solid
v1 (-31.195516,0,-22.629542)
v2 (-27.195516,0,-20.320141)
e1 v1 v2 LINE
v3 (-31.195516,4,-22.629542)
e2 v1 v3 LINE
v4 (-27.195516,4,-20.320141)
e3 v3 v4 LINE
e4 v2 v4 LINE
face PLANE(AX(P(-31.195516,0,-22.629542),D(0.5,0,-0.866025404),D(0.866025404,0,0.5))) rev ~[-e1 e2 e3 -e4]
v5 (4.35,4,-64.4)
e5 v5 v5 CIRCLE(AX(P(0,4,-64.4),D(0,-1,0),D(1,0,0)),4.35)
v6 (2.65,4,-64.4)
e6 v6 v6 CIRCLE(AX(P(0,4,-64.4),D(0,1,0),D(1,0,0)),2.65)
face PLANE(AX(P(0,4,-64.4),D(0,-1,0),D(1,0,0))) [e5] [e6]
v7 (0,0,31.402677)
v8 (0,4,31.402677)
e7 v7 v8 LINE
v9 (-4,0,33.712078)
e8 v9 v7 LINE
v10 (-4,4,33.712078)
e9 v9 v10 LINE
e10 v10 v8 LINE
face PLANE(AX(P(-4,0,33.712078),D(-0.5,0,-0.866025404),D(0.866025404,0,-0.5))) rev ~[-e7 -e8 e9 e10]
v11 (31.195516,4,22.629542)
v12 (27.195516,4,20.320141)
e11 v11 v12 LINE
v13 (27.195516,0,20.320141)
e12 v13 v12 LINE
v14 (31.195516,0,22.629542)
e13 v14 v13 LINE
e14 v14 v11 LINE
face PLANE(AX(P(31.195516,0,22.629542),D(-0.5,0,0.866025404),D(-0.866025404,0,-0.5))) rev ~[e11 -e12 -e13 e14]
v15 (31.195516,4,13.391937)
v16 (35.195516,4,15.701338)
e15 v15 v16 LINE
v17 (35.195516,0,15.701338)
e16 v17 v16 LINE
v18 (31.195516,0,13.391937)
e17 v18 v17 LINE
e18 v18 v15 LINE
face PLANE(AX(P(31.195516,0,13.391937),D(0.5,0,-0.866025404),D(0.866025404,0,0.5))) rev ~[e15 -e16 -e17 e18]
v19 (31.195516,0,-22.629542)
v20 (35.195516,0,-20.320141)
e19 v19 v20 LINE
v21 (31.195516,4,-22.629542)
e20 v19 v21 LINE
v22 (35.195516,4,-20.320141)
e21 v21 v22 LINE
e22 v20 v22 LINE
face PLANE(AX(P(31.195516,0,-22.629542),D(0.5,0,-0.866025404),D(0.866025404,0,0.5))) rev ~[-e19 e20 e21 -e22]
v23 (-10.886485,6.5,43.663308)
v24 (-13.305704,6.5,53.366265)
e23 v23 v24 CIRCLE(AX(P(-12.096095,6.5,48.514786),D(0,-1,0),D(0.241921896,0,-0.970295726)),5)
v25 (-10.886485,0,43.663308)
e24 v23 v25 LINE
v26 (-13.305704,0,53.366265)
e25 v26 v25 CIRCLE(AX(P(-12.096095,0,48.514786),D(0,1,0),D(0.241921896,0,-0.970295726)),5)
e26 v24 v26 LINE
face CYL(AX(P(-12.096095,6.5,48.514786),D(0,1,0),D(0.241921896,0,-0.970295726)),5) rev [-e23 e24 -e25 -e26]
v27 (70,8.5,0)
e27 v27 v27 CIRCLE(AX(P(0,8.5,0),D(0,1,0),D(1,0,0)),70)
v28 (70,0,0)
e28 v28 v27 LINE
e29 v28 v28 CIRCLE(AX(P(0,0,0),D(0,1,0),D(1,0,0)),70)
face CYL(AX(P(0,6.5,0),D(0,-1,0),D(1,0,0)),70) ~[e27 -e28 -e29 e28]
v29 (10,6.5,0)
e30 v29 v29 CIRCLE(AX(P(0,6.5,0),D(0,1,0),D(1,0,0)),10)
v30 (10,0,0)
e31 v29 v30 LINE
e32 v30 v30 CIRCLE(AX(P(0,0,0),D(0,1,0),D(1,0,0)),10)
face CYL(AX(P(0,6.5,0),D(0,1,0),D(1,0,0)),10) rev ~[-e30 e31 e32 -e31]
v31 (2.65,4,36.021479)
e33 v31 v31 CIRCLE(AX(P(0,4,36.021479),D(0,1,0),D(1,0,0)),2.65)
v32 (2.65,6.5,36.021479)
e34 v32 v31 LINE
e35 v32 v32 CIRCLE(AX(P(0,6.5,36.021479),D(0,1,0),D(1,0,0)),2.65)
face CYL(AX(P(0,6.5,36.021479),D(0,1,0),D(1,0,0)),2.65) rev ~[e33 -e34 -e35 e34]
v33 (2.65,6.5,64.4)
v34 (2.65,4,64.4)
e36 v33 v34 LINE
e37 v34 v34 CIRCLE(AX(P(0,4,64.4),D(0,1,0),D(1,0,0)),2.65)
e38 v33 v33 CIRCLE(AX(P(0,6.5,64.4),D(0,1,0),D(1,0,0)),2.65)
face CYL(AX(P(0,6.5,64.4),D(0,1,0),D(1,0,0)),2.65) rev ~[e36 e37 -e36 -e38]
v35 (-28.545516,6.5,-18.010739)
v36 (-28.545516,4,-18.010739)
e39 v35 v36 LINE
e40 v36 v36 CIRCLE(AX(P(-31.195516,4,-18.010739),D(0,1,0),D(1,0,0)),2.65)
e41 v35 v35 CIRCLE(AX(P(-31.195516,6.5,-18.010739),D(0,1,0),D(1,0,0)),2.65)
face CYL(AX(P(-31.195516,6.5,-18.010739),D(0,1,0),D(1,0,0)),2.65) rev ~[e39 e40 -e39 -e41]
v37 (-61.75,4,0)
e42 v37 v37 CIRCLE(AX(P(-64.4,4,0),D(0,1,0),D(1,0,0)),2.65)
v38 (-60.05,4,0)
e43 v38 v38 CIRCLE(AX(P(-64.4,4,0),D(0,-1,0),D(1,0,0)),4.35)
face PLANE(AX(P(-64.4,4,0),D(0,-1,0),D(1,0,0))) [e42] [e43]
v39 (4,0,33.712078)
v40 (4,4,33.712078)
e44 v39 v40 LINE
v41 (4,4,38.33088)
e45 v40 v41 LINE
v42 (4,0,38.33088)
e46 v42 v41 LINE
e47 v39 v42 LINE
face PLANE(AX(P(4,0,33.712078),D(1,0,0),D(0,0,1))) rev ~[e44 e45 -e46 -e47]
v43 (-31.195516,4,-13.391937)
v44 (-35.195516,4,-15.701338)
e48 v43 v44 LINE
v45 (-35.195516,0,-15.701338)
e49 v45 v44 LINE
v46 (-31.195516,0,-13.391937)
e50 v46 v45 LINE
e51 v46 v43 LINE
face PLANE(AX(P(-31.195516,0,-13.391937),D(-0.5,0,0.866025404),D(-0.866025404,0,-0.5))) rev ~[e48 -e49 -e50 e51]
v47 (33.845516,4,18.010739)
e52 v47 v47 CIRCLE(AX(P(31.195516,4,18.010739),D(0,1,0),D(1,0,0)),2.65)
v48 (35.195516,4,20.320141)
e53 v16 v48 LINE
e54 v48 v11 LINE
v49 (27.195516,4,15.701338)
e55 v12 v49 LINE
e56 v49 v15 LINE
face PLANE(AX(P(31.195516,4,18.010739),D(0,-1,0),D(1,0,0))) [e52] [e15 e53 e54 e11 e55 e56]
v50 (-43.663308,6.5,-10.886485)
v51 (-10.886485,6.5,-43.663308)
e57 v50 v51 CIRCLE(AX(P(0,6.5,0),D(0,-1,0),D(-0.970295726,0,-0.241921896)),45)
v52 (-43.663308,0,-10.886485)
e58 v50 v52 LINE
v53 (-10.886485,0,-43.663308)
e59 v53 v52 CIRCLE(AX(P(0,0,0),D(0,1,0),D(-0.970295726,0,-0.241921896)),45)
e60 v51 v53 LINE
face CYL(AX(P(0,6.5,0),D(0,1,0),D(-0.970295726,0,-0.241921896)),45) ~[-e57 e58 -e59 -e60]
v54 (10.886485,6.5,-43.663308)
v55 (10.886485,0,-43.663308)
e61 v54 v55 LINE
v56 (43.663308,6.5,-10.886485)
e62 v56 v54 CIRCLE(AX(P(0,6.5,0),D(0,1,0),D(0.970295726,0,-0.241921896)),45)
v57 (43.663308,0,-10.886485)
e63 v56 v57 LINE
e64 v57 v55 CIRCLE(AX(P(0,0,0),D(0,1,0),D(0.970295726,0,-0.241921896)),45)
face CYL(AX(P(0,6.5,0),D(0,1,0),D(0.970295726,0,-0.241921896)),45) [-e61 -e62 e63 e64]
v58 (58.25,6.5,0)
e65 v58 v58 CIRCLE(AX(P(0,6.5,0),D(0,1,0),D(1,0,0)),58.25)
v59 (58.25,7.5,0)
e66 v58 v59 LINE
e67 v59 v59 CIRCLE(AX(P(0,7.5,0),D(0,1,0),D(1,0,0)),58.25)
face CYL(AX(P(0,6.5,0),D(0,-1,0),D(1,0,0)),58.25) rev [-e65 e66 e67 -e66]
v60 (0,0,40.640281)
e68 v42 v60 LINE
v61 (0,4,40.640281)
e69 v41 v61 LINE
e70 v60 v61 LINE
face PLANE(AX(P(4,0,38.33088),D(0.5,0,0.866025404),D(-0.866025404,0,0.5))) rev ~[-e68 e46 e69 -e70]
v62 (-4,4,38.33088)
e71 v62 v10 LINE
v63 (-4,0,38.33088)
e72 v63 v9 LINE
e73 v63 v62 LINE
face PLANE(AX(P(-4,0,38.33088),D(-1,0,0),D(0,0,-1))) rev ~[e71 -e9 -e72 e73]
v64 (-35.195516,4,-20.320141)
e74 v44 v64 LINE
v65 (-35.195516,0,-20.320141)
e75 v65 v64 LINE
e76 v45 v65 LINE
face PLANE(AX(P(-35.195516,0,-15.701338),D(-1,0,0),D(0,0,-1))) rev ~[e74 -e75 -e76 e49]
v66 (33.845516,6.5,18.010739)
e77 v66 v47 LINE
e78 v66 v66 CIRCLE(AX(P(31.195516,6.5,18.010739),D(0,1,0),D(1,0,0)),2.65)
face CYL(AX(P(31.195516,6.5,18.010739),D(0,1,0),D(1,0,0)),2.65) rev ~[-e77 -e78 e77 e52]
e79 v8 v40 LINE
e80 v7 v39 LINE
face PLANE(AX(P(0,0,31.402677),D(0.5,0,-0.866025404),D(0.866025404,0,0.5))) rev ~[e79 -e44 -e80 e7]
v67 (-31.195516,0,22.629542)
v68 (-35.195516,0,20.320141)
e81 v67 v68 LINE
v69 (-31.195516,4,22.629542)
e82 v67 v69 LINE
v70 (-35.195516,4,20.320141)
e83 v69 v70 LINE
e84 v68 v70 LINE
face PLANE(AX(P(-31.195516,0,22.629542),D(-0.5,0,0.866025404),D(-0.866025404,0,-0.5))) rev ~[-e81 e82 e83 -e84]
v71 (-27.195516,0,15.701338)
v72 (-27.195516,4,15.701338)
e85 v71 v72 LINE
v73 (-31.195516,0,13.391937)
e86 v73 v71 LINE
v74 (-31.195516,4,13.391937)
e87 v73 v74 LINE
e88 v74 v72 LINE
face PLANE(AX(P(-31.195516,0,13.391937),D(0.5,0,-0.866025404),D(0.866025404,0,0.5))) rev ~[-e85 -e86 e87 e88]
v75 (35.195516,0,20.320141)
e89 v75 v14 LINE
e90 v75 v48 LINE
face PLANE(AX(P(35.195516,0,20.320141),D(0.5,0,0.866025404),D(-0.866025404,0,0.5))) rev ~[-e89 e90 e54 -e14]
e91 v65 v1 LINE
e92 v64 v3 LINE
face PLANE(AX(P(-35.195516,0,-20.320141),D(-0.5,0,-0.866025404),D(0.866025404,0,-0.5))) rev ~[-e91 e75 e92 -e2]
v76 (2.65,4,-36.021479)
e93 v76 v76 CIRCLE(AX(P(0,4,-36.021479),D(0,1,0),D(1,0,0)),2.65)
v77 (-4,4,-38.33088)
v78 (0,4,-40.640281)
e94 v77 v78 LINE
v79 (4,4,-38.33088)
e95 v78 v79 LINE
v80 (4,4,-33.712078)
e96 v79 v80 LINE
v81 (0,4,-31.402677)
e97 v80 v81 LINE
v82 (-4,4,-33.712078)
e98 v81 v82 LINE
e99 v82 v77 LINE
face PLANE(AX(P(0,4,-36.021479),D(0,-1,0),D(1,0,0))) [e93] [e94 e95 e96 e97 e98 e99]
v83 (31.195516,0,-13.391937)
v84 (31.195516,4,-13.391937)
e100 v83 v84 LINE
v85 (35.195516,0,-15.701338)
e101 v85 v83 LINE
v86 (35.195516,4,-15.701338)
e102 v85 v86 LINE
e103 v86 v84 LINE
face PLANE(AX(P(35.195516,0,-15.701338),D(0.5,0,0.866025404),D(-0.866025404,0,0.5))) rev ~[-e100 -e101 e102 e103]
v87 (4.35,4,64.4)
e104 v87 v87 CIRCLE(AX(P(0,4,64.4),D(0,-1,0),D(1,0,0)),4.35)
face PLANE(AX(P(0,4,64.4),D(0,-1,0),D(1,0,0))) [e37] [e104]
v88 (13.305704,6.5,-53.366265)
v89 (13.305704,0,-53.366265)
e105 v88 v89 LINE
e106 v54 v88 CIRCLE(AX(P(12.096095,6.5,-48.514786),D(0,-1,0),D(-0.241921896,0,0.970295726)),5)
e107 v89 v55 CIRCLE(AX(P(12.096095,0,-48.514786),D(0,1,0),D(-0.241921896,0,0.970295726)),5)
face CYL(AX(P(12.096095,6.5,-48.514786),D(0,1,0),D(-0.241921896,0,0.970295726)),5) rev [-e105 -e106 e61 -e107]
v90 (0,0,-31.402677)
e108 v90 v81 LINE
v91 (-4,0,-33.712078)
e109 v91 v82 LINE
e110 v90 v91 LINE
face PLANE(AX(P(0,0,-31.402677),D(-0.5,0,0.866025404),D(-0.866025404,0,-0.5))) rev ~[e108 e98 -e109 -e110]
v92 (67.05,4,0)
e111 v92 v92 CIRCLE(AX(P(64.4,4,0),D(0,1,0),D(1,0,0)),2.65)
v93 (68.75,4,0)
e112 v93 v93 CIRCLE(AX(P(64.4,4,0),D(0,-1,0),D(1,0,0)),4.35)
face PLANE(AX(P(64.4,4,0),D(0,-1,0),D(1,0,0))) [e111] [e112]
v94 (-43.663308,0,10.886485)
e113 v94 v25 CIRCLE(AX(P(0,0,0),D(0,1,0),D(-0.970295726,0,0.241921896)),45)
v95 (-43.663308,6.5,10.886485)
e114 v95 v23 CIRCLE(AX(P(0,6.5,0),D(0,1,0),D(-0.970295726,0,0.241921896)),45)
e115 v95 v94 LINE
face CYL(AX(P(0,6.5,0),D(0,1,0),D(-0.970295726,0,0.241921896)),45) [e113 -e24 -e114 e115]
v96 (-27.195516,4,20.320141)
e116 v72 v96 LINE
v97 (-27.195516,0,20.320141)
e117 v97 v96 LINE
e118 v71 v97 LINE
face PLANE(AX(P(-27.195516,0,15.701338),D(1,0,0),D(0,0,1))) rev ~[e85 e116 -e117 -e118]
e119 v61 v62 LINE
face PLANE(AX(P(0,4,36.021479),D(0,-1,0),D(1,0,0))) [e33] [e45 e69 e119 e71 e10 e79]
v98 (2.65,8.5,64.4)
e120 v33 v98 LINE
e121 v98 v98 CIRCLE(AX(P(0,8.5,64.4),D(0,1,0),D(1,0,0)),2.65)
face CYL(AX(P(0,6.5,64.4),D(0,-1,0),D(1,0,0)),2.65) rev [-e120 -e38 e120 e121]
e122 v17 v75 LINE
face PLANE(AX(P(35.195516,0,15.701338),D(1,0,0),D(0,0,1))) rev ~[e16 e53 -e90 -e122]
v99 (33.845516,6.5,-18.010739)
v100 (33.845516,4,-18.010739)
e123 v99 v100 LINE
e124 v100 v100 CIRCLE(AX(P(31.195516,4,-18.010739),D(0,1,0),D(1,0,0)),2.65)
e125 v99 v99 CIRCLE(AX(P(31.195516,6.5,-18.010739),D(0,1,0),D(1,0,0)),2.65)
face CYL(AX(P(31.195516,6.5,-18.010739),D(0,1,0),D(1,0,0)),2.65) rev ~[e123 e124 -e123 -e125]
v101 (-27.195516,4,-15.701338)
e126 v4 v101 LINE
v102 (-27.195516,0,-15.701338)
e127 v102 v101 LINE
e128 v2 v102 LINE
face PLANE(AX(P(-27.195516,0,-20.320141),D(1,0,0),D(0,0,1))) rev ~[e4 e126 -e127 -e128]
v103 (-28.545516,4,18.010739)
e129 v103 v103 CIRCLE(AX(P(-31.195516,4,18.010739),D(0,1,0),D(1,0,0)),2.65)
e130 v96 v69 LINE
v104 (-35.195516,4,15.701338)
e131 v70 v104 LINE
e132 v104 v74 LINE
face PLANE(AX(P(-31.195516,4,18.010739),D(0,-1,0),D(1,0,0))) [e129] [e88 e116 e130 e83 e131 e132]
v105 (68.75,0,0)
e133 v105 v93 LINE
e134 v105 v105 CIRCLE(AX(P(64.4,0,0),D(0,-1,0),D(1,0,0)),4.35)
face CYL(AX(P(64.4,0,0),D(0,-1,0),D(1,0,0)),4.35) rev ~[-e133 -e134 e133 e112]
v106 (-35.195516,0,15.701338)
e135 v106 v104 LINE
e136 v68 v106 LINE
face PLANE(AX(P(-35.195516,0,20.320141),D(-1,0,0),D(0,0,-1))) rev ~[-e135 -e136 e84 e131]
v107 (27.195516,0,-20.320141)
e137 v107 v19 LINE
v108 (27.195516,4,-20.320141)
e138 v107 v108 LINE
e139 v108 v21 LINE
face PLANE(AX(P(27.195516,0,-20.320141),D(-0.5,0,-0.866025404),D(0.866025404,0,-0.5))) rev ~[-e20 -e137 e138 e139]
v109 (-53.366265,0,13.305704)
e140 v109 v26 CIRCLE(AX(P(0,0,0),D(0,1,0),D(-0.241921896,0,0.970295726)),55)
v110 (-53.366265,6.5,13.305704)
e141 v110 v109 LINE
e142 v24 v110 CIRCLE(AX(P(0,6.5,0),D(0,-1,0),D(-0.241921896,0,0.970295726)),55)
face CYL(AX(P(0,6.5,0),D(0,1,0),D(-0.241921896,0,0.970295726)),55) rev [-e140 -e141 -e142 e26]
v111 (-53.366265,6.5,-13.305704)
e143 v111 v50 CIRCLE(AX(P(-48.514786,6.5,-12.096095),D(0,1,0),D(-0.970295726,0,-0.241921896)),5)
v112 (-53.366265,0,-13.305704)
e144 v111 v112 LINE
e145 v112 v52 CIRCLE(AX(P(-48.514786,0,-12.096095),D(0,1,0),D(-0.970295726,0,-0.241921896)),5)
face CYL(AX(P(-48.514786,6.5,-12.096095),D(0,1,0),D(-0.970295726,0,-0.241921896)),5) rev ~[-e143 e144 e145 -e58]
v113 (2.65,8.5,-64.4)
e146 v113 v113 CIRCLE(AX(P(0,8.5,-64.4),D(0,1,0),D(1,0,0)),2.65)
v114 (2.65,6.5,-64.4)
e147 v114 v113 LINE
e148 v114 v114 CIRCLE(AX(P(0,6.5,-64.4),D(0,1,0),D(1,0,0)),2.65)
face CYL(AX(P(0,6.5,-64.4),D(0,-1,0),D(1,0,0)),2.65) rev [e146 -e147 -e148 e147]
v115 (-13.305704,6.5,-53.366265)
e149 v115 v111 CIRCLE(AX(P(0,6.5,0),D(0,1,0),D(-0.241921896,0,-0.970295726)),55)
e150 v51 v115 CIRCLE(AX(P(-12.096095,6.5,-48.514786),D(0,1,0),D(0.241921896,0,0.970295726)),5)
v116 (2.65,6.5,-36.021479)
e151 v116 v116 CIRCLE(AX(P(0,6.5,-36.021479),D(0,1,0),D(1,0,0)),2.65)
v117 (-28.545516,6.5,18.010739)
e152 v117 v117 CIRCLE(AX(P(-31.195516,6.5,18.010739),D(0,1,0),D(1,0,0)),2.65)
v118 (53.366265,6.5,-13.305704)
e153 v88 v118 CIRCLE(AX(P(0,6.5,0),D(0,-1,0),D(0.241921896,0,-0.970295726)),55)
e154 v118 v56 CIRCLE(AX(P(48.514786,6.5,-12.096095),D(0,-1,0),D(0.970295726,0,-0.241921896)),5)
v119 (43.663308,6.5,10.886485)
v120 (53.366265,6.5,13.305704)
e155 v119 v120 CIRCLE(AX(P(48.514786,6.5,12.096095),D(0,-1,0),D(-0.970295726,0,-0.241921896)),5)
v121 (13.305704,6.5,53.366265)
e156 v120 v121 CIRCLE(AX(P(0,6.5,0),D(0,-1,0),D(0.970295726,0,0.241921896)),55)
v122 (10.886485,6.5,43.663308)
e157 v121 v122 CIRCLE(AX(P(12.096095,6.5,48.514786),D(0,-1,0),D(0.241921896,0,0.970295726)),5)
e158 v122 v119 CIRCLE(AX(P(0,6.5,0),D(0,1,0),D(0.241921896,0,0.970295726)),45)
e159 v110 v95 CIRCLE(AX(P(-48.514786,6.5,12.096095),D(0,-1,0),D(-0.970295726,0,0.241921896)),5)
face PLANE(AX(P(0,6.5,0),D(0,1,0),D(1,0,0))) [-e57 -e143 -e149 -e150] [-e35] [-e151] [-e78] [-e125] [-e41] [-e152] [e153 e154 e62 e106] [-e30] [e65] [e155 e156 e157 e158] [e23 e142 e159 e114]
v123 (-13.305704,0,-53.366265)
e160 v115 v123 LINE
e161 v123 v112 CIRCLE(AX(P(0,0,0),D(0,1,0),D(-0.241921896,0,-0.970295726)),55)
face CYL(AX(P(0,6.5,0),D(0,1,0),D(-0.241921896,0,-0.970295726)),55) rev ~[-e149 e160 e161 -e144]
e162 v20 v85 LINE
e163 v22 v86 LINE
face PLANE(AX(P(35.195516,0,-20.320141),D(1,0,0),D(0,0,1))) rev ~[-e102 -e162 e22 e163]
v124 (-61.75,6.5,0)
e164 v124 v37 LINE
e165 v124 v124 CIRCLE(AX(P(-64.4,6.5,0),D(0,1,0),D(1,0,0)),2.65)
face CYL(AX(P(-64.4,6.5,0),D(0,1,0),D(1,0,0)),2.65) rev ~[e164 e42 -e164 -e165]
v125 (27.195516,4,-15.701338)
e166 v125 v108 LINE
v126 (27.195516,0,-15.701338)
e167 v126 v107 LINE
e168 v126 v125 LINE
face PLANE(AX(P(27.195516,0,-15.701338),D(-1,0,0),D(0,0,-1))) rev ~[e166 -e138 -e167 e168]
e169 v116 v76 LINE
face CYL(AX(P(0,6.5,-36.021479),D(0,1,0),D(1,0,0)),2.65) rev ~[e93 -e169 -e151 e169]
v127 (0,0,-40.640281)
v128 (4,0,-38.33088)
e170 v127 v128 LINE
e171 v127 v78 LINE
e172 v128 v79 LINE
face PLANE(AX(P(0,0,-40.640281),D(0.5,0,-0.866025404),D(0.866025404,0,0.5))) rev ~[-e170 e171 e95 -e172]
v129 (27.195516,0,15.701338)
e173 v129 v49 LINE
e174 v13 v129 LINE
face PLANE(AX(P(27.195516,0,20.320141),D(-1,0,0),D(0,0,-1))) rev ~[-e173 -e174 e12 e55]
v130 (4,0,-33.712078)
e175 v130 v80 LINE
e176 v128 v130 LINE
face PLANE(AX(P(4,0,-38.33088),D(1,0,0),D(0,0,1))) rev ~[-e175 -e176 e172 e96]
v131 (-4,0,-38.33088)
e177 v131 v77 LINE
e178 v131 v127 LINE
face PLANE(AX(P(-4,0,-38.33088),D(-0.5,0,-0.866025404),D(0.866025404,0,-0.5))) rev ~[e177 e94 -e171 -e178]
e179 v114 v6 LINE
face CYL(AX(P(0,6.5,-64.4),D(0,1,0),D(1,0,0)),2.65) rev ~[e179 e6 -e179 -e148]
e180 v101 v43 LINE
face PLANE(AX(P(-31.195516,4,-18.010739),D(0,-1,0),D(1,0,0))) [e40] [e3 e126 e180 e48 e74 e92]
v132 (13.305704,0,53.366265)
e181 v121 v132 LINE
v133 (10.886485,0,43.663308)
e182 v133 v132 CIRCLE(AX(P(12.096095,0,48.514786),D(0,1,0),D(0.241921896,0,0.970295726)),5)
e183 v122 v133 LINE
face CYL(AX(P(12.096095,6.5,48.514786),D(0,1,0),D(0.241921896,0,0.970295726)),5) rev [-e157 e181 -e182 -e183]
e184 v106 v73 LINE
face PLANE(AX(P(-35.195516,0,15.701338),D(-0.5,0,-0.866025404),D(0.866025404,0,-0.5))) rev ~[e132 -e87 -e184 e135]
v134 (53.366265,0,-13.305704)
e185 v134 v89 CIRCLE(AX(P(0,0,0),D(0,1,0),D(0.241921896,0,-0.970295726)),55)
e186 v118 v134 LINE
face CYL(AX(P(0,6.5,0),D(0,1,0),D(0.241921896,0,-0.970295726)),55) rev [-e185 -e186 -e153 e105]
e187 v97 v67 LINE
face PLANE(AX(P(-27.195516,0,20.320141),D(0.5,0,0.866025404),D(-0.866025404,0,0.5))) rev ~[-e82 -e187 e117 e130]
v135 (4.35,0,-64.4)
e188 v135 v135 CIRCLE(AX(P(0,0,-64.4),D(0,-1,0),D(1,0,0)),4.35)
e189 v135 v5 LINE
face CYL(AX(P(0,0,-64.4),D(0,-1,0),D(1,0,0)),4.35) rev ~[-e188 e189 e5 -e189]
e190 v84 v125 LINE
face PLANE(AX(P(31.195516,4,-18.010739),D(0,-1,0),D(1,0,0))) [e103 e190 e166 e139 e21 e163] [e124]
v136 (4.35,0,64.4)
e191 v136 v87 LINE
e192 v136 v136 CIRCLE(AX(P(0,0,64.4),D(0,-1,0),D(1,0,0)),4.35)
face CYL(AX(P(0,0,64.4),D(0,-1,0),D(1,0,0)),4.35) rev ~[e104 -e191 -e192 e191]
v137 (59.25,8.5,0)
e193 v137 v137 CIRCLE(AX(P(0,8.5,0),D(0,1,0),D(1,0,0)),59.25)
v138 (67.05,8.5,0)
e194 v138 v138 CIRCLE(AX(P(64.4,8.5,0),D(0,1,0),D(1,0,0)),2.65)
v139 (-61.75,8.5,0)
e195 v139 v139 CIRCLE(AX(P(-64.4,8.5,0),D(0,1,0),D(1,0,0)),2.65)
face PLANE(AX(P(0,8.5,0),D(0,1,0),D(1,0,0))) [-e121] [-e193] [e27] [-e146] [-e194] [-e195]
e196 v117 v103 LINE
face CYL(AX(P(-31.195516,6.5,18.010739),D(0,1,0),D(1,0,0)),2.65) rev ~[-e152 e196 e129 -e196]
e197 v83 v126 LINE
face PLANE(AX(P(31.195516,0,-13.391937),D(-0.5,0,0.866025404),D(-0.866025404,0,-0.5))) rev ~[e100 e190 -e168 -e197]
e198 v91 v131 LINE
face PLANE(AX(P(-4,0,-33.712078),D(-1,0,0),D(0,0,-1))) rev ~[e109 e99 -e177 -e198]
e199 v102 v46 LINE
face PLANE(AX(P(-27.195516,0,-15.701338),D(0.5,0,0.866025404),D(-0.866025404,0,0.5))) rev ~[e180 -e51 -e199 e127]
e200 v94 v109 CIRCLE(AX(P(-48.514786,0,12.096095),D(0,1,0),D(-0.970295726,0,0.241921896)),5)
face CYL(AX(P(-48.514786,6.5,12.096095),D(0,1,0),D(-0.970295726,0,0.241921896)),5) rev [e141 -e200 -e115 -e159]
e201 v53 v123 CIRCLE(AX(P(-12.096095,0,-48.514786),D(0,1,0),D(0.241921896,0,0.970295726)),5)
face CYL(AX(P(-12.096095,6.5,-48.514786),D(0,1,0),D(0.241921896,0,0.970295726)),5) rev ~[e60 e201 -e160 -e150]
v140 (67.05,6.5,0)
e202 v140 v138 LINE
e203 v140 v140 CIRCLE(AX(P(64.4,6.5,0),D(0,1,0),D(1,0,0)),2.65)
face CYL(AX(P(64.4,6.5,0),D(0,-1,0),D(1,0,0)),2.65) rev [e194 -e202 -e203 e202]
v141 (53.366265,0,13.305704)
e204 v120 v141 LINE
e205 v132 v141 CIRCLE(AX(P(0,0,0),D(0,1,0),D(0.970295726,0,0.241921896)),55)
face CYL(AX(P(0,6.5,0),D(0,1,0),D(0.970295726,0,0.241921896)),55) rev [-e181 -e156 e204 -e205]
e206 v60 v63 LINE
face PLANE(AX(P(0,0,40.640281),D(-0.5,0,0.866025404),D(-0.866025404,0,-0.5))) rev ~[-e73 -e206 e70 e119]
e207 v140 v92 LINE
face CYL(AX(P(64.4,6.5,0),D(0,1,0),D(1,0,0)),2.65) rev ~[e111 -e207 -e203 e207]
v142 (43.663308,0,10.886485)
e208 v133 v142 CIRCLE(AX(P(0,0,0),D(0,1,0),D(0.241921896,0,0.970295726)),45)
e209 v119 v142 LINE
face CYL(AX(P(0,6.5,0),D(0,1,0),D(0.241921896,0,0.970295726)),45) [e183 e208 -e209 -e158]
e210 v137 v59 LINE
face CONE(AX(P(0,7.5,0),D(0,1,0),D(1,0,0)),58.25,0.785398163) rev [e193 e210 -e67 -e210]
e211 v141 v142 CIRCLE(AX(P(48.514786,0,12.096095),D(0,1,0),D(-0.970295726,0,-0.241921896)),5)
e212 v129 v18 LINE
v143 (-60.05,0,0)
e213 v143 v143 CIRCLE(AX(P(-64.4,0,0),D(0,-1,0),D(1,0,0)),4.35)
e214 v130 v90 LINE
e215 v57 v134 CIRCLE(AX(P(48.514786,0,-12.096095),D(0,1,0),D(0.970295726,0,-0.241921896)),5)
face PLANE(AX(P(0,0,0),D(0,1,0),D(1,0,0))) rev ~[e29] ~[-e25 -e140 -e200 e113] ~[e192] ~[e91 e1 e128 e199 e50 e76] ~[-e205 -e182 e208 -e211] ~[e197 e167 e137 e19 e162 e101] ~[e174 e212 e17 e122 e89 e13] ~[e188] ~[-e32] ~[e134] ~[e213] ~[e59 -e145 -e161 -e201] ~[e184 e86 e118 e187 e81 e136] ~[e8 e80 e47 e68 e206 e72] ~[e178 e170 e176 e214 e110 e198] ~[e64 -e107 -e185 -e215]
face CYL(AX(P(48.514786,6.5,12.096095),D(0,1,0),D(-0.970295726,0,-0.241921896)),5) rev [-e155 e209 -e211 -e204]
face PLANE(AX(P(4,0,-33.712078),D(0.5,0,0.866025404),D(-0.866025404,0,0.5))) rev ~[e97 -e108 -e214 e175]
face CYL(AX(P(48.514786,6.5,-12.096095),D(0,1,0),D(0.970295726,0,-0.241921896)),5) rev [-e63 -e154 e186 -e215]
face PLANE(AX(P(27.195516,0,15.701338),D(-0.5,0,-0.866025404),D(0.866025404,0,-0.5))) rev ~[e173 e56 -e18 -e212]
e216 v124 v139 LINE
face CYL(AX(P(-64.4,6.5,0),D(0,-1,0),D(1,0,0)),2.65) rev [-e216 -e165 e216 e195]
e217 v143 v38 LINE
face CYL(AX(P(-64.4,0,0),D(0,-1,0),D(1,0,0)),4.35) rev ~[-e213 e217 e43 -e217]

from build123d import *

# Parameters (mm, degrees)
SKETCH1_R           = 70
BOSS_EXTRUDE1_DEPTH = 6.5
SKETCH2_R           = 2.65
CUT_EXTRUDE1_DEPTH  = 7.5
SKETCH3_R           = 70
SKETCH3_R_2         = 58.25
SKETCH3_R_3         = 2.65
BOSS_EXTRUDE2_DEPTH = 2
CUT_EXTRUDE2_DEPTH  = 7.5
SKETCH5_R           = 2.65
CUT_EXTRUDE3_DEPTH  = 7.5
CUT_EXTRUDE4_DEPTH  = 4
SKETCH7_R           = 10
CUT_EXTRUDE5_DEPTH  = 7.5
CHAMFER1_SIZE       = 1
SKETCH8_R           = 4.35
CUT_EXTRUDE6_DEPTH  = 4


with BuildPart() as part:
    # Sketch1 → Boss-Extrude1 (new body)
    with BuildSketch(Plane(origin=(0, 0, 0), x_dir=(1, 0, 0), z_dir=(0, 1, 0))):
        Circle(SKETCH1_R)
    extrude(amount=BOSS_EXTRUDE1_DEPTH)

    # Sketch2 → Cut-Extrude1 (cut, through all)
    with BuildSketch(Plane(origin=(0, 6.5, 0), x_dir=(1, 0, 0), z_dir=(0, 1, 0))):
        with Locations((0, 64.4)):
            Circle(SKETCH2_R)
        with Locations((64.4, 0)):
            Circle(SKETCH2_R)
        with Locations((0, -64.4)):
            Circle(SKETCH2_R)
        with Locations((-64.4, 0)):
            Circle(SKETCH2_R)
    extrude(amount=-CUT_EXTRUDE1_DEPTH, mode=Mode.SUBTRACT)

    # Sketch3 → Boss-Extrude2 (add)
    with BuildSketch(Plane(origin=(0, 6.5, 0), x_dir=(1, 0, 0), z_dir=(0, 1, 0))):
        Circle(SKETCH3_R)
        Circle(SKETCH3_R_2, mode=Mode.SUBTRACT)
        with Locations((-64.4, 0)):
            Circle(SKETCH3_R_3, mode=Mode.SUBTRACT)
        with Locations((0, 64.4)):
            Circle(SKETCH3_R_3, mode=Mode.SUBTRACT)
        with Locations((64.4, 0)):
            Circle(SKETCH3_R_3, mode=Mode.SUBTRACT)
        with Locations((0, -64.4)):
            Circle(SKETCH3_R_3, mode=Mode.SUBTRACT)
    extrude(amount=BOSS_EXTRUDE2_DEPTH)

    # Sketch4 → Cut-Extrude2 (cut, through all)
    with BuildSketch(Plane(origin=(0, 6.5, 0), x_dir=(1, 0, 0), z_dir=(0, 1, 0))):
        with BuildLine():
            ThreePointArc((-13.305704258, 53.366264945), (-38.890872965, 38.890872965), (-53.366264945, 13.305704258))
            ThreePointArc((-53.366264945, 13.305704258), (-49.724395792, 7.244616149), (-43.663307682, 10.886485302))
            ThreePointArc((-43.663307682, 10.886485302), (-31.819805153, 31.819805153), (-10.886485302, 43.663307682))
            ThreePointArc((-10.886485302, 43.663307682), (-7.244616149, 49.724395792), (-13.305704258, 53.366264945))
        make_face()
        with BuildLine():
            ThreePointArc((43.663307682, 10.886485302), (31.819805153, 31.819805153), (10.886485302, 43.663307682))
            ThreePointArc((10.886485302, 43.663307682), (7.244616149, 49.724395792), (13.305704258, 53.366264945))
            ThreePointArc((13.305704258, 53.366264945), (38.890872965, 38.890872965), (53.366264945, 13.305704258))
            ThreePointArc((53.366264945, 13.305704258), (49.724395792, 7.244616149), (43.663307682, 10.886485302))
        make_face()
        with BuildLine():
            ThreePointArc((10.886485302, -43.663307682), (31.819805153, -31.819805153), (43.663307682, -10.886485302))
            ThreePointArc((43.663307682, -10.886485302), (49.724395792, -7.244616149), (53.366264945, -13.305704258))
            ThreePointArc((53.366264945, -13.305704258), (38.890872965, -38.890872965), (13.305704258, -53.366264945))
            ThreePointArc((13.305704258, -53.366264945), (7.244616149, -49.724395792), (10.886485302, -43.663307682))
        make_face()
        with BuildLine():
            ThreePointArc((-43.663307682, -10.886485302), (-31.819805153, -31.819805153), (-10.886485302, -43.663307682))
            ThreePointArc((-10.886485302, -43.663307682), (-7.244616149, -49.724395792), (-13.305704258, -53.366264945))
            ThreePointArc((-13.305704258, -53.366264945), (-38.890872965, -38.890872965), (-53.366264945, -13.305704258))
            ThreePointArc((-53.366264945, -13.305704258), (-49.724395792, -7.244616149), (-43.663307682, -10.886485302))
        make_face()
    extrude(amount=-CUT_EXTRUDE2_DEPTH, mode=Mode.SUBTRACT)

    # Sketch5 → Cut-Extrude3 (cut, through all)
    with BuildSketch(Plane(origin=(0, 6.5, 0), x_dir=(1, 0, 0), z_dir=(0, 1, 0))):
        with Locations((0, 36.02147888)):
            Circle(SKETCH5_R)
        with Locations((31.195515792, 18.01073944)):
            Circle(SKETCH5_R)
        with Locations((31.195515792, -18.01073944)):
            Circle(SKETCH5_R)
        with Locations((0, -36.02147888)):
            Circle(SKETCH5_R)
        with Locations((-31.195515792, -18.01073944)):
            Circle(SKETCH5_R)
        with Locations((-31.195515792, 18.01073944)):
            Circle(SKETCH5_R)
    extrude(amount=-CUT_EXTRUDE3_DEPTH, mode=Mode.SUBTRACT)

    # Sketch6 → Cut-Extrude4 (cut)
    with BuildSketch(Plane.XZ):
        Polygon((27.195515792, -20.320140517), (31.195515792, -22.629541594), (35.195515792, -20.320140517), (35.195515792, -15.701338363), (31.195515792, -13.391937286), (27.195515792, -15.701338363), align=None)
        Polygon((-4, -33.712077803), (-4, -38.330879957), (0, -40.640281034), (4, -38.330879957), (4, -33.712077803), (0, -31.402676726), align=None)
        Polygon((-31.195515792, -13.391937286), (-35.195515792, -15.701338363), (-35.195515792, -20.320140517), (-31.195515792, -22.629541594), (-27.195515792, -20.320140517), (-27.195515792, -15.701338363), align=None)
        Polygon((-27.195515792, 20.320140517), (-31.195515792, 22.629541594), (-35.195515792, 20.320140517), (-35.195515792, 15.701338363), (-31.195515792, 13.391937286), (-27.195515792, 15.701338363), align=None)
        Polygon((4, 33.712077803), (4, 38.330879957), (0, 40.640281034), (-4, 38.330879957), (-4, 33.712077803), (0, 31.402676726), align=None)
        Polygon((31.195515792, 13.391937286), (35.195515792, 15.701338363), (35.195515792, 20.320140517), (31.195515792, 22.629541594), (27.195515792, 20.320140517), (27.195515792, 15.701338363), align=None)
    extrude(amount=-CUT_EXTRUDE4_DEPTH, mode=Mode.SUBTRACT)

    # Sketch7 → Cut-Extrude5 (cut, through all)
    with BuildSketch(Plane(origin=(0, 6.5, 0), x_dir=(1, 0, 0), z_dir=(0, 1, 0))):
        Circle(SKETCH7_R)
    extrude(amount=-CUT_EXTRUDE5_DEPTH, mode=Mode.SUBTRACT)

    # Chamfer1
    chamfer1_edges = [part.edges().sort_by_distance(p)[0] for p in [
        (-58.25, 8.5, 0),
    ]]
    chamfer(chamfer1_edges, length=CHAMFER1_SIZE)

    # Sketch8 → Cut-Extrude6 (cut)
    with BuildSketch(Plane.XZ):
        with Locations((-64.4, 0)):
            Circle(SKETCH8_R)
        with Locations((0, 64.4)):
            Circle(SKETCH8_R)
        with Locations((64.4, 0)):
            Circle(SKETCH8_R)
        with Locations((0, -64.4)):
            Circle(SKETCH8_R)
    extrude(amount=-CUT_EXTRUDE6_DEPTH, mode=Mode.SUBTRACT)


solid = part.part
